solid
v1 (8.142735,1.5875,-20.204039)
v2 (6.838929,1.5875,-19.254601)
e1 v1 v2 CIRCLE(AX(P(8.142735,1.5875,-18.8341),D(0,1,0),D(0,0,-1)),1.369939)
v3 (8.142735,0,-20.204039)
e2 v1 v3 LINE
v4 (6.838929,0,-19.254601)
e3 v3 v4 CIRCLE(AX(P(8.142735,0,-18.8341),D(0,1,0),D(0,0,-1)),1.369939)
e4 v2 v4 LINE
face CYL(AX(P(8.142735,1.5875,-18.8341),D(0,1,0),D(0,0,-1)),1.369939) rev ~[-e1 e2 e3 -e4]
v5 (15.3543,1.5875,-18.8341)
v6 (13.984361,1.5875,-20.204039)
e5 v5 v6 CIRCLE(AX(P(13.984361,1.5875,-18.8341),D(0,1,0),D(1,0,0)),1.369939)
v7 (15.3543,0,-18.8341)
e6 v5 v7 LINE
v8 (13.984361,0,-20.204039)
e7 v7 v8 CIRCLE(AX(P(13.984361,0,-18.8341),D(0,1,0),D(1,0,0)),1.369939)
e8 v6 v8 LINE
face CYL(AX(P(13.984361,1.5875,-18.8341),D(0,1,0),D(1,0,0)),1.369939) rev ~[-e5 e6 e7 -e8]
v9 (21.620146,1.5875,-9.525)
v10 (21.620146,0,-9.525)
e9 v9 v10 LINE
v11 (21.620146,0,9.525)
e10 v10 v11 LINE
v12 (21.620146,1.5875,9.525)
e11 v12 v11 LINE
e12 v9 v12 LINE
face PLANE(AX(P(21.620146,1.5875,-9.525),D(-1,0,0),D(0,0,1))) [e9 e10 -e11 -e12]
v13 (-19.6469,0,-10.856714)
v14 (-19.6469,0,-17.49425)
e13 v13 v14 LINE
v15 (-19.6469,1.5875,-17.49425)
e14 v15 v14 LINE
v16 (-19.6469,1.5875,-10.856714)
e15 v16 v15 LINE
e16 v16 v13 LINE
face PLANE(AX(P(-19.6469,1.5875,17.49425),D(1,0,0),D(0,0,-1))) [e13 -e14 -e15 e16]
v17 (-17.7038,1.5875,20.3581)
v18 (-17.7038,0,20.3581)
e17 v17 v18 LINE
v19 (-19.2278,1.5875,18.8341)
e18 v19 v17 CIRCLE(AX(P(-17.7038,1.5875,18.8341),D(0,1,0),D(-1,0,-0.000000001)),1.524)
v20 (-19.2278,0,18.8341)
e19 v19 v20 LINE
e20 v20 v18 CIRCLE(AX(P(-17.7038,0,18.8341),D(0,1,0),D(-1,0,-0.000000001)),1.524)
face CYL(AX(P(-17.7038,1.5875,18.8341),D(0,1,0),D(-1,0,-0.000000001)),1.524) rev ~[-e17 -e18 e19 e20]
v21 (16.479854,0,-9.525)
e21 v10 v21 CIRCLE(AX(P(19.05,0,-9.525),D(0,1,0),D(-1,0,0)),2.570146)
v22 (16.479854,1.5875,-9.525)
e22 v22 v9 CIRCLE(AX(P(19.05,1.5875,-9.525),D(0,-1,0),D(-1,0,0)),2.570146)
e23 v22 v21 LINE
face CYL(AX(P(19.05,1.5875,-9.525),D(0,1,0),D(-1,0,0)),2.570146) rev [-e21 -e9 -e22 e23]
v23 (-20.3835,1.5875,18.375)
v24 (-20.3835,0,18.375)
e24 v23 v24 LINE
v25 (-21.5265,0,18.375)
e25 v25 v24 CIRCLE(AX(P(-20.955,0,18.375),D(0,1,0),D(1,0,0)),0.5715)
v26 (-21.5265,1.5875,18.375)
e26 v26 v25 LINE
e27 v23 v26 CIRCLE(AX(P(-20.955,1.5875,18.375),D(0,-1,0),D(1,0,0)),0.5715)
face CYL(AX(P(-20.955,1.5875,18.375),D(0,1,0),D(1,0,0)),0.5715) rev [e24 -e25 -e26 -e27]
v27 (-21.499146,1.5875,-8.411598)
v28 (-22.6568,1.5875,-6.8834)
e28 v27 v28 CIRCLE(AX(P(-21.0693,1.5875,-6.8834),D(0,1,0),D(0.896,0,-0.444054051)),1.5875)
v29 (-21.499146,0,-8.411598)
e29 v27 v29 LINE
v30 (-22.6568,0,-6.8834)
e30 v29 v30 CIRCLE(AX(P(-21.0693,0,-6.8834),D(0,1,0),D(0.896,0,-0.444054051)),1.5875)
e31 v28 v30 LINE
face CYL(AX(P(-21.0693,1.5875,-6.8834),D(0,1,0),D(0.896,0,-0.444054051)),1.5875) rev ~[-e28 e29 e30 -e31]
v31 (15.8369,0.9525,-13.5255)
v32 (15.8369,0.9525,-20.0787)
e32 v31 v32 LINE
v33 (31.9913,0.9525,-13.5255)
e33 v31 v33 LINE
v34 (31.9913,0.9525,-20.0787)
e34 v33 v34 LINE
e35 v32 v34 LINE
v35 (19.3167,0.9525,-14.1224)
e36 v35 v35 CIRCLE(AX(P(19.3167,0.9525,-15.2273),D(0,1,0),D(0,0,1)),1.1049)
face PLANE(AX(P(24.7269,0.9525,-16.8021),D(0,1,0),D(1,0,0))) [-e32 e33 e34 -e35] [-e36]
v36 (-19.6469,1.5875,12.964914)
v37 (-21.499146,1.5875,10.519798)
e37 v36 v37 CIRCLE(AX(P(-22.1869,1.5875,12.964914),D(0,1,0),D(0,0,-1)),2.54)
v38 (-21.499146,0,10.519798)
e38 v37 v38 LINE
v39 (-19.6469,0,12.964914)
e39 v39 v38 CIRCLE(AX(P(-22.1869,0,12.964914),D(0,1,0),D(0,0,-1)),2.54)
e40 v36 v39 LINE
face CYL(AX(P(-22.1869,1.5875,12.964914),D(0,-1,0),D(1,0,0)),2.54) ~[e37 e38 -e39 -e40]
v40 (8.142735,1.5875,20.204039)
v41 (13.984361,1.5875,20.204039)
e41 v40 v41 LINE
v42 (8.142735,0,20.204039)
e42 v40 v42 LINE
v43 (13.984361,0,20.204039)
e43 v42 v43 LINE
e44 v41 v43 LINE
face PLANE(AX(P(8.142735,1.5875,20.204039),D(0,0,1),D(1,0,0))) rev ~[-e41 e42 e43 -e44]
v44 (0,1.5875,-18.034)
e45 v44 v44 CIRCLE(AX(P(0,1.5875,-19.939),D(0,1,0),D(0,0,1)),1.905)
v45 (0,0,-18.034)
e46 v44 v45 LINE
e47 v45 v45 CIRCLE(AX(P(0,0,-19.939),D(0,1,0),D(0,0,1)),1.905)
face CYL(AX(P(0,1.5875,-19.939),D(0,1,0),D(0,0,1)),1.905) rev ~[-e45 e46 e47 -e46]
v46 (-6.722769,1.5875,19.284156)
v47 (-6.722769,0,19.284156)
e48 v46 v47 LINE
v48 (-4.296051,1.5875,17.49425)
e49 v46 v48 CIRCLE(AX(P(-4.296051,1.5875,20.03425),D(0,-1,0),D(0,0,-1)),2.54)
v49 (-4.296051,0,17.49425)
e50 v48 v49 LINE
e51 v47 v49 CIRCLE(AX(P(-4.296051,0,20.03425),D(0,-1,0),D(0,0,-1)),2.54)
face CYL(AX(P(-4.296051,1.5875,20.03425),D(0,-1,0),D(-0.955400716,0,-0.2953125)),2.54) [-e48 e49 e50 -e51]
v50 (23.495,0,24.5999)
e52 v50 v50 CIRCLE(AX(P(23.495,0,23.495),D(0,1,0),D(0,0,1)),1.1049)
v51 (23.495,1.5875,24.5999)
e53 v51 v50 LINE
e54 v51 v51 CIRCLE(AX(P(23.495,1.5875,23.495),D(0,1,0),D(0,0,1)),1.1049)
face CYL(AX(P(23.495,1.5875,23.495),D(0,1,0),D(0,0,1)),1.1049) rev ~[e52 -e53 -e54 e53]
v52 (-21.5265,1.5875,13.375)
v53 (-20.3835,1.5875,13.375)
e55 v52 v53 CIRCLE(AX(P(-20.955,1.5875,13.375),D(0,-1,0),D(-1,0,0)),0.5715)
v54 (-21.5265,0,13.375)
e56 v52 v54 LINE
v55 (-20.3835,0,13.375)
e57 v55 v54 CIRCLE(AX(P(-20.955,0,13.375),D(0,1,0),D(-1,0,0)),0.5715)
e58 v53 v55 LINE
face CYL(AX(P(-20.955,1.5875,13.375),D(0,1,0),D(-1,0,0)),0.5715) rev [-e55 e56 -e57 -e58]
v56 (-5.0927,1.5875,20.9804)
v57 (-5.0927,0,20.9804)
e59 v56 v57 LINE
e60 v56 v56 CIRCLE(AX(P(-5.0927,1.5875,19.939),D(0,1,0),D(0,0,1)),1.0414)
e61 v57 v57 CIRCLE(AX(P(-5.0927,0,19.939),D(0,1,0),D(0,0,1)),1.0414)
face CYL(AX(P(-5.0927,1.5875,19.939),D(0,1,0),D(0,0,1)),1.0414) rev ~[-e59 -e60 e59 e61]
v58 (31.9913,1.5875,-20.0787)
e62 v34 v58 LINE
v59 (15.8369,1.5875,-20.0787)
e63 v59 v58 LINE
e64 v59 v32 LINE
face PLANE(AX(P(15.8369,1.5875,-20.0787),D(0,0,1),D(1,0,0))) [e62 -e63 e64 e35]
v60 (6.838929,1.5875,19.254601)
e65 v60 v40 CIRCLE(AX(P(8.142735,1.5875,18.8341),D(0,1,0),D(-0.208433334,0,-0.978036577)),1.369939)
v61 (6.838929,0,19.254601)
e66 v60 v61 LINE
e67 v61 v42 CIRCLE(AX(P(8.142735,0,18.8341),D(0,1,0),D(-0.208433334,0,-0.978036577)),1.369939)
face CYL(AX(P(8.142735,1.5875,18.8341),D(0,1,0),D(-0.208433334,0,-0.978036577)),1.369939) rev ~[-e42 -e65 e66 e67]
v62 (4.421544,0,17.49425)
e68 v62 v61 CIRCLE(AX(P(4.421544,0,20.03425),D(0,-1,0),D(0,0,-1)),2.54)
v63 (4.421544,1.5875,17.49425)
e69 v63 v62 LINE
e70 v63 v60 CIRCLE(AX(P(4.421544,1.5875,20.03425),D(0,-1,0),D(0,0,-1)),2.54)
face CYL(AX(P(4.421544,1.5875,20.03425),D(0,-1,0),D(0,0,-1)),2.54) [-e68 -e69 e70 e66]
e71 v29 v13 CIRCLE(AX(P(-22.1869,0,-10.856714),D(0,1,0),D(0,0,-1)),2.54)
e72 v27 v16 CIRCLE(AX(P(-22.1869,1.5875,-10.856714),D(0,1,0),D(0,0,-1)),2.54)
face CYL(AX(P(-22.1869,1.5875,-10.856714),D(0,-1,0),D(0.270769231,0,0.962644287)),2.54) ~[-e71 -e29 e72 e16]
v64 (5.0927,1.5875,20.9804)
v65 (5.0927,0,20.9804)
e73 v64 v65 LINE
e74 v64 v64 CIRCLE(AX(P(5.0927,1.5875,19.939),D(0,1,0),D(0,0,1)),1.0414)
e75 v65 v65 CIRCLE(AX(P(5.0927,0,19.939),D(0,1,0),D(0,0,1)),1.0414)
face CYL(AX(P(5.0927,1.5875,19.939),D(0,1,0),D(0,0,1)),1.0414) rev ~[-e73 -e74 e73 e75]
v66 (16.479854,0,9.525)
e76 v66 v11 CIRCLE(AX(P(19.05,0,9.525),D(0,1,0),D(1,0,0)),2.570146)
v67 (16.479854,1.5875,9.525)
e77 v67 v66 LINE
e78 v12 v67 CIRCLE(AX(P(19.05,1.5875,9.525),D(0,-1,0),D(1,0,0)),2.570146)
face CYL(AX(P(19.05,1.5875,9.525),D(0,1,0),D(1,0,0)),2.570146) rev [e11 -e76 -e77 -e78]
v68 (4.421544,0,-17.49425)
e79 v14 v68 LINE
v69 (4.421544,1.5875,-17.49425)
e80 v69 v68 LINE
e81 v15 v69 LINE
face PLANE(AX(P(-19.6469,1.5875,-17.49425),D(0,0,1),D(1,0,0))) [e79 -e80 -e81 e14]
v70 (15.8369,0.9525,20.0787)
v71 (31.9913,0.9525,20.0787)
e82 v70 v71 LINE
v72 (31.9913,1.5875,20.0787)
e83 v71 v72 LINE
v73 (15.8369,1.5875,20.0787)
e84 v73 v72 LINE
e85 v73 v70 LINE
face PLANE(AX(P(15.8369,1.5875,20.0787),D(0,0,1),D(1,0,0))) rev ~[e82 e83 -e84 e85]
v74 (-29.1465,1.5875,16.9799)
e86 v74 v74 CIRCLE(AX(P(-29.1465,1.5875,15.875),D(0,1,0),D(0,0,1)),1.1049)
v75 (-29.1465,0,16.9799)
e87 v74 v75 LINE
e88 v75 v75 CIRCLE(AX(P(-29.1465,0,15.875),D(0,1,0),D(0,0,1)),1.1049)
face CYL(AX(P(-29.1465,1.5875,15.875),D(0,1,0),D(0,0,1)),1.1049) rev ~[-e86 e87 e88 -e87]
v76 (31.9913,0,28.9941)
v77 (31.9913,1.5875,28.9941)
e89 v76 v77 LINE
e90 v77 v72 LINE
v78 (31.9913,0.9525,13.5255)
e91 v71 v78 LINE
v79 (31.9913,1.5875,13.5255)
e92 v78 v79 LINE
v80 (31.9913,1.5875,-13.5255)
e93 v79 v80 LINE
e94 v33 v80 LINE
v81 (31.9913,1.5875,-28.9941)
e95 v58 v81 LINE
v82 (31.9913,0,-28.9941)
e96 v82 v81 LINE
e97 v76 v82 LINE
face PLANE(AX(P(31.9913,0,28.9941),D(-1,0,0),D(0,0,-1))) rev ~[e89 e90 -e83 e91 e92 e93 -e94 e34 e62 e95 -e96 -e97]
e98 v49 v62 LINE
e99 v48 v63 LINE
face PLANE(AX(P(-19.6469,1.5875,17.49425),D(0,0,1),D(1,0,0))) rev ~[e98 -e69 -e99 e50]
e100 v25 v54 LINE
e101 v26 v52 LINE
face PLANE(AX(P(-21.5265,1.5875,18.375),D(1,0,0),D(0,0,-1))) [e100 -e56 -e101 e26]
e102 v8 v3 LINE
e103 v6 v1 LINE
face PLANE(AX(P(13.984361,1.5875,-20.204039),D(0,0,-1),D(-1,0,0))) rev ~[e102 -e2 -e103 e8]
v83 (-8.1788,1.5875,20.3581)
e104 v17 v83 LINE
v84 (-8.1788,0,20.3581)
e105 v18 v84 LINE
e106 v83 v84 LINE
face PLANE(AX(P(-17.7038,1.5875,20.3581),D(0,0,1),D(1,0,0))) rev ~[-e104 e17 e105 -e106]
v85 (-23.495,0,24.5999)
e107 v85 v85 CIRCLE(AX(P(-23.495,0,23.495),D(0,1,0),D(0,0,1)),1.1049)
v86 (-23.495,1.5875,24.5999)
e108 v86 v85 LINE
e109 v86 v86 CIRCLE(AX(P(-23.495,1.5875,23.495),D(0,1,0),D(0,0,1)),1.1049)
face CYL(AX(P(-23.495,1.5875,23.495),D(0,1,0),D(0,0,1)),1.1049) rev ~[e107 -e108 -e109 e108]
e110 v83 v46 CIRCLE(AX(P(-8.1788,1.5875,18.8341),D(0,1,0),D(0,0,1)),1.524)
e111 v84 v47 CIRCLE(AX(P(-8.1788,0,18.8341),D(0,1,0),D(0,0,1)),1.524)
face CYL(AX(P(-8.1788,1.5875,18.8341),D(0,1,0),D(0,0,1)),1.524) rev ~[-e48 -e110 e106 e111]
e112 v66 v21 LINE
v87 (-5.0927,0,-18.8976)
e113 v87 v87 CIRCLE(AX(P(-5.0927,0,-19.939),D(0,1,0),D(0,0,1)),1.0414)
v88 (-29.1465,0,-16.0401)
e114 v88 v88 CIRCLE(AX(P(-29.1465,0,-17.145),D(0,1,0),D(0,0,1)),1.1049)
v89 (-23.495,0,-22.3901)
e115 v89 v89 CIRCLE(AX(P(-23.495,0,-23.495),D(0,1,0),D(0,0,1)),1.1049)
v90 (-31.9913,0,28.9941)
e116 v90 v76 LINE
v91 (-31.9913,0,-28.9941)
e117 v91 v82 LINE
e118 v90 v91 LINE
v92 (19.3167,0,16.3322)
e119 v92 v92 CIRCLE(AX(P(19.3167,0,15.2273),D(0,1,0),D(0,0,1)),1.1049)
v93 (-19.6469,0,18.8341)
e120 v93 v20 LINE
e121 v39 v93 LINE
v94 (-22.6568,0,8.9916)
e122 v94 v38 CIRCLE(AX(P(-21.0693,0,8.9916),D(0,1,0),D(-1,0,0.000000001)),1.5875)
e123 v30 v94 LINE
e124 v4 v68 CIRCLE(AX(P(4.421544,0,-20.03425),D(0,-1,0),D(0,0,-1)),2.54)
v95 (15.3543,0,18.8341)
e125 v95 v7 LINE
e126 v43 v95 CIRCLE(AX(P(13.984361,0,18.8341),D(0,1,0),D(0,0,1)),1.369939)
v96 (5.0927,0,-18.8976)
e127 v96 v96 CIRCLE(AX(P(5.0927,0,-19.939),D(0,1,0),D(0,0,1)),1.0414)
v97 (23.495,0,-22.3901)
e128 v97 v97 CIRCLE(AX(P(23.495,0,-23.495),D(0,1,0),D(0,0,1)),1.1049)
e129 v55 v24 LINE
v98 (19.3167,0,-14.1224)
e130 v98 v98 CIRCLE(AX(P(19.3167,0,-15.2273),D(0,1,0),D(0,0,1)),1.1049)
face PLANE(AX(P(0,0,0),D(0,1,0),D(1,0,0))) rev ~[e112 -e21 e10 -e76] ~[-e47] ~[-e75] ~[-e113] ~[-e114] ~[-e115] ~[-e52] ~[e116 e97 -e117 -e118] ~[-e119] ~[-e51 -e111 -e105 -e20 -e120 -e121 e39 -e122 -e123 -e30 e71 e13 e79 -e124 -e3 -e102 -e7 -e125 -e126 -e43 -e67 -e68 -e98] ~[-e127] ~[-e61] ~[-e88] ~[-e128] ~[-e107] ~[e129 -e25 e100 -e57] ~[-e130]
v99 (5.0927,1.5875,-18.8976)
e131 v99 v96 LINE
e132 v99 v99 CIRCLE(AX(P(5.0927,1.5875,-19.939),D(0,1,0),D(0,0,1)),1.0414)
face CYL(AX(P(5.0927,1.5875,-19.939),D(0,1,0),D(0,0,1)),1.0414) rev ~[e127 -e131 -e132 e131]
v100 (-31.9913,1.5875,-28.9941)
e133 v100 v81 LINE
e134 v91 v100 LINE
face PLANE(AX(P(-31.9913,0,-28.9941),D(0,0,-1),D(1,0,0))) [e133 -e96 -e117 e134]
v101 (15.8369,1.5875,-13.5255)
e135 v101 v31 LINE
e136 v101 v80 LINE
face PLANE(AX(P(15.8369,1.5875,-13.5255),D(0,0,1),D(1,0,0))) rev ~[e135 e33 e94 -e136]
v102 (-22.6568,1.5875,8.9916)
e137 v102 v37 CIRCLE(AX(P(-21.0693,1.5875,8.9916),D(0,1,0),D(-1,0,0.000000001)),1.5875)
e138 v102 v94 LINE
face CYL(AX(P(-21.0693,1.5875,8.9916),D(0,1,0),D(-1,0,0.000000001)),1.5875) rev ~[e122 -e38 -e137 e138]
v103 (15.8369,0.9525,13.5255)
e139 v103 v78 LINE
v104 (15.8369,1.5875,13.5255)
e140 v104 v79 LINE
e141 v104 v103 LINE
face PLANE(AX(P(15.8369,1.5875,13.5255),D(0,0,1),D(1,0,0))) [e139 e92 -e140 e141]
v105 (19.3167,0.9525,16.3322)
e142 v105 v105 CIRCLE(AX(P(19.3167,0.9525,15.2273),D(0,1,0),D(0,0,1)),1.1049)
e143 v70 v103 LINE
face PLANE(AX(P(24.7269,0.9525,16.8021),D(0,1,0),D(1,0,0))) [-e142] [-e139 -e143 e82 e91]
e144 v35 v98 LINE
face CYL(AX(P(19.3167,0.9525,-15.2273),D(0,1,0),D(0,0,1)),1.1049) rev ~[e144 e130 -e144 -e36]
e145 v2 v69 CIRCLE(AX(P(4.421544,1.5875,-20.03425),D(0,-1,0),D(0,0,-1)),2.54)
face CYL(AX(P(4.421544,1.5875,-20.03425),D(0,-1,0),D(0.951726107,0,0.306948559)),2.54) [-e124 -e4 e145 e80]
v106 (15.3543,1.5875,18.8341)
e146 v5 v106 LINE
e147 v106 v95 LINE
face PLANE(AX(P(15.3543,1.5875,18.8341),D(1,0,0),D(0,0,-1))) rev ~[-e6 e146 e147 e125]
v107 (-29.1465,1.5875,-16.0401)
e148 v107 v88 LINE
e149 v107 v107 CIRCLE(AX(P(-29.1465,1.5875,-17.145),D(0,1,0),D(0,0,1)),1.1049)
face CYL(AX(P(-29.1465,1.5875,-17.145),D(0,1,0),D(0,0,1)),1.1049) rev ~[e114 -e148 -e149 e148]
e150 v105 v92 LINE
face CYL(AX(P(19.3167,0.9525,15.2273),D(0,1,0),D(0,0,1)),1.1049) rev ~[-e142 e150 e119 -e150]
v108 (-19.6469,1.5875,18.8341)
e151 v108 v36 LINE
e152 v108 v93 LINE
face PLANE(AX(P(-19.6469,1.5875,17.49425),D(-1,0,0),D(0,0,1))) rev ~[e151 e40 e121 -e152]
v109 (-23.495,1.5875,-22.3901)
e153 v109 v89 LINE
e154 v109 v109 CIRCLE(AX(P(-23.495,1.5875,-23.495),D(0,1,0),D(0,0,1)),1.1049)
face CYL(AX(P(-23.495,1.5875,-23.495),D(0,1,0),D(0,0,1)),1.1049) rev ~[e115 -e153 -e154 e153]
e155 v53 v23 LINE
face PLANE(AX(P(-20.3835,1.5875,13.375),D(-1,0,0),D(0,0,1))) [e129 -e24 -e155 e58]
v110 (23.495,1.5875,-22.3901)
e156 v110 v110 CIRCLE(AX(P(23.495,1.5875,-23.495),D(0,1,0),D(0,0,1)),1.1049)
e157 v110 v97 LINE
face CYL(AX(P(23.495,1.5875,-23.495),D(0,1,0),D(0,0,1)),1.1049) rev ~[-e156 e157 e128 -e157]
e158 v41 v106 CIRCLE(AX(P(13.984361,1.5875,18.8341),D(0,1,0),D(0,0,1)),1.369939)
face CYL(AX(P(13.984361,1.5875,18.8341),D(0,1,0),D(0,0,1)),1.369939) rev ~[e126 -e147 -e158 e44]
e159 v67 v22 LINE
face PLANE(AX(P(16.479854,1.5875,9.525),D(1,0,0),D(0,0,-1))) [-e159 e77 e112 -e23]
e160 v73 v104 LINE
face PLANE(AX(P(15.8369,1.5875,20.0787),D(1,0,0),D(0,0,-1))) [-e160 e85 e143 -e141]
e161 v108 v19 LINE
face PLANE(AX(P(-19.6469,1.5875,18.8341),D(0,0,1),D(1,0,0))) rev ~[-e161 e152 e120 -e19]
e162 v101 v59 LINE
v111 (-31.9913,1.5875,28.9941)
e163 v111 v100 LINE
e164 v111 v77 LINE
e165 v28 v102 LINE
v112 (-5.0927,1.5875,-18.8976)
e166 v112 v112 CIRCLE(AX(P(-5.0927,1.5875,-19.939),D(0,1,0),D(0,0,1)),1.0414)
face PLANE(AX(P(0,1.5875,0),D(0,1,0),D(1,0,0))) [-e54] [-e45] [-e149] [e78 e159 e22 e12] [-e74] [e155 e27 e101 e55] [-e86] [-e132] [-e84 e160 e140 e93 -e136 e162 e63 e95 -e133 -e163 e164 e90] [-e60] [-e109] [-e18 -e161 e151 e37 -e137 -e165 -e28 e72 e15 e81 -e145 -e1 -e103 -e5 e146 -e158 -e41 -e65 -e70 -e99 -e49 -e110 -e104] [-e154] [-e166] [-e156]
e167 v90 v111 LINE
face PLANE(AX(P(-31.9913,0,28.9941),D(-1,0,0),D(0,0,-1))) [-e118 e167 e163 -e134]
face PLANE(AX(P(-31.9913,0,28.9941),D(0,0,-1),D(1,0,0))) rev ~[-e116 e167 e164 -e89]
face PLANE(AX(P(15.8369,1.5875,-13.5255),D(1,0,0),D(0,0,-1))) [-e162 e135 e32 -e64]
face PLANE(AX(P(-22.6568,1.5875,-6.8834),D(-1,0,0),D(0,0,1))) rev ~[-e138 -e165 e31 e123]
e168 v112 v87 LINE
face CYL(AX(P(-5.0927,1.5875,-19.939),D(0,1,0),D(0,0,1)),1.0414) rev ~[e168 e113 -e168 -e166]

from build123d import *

# Parameters (mm, degrees)
SKETCH1_W           = 63.9826
SKETCH1_H           = 57.9882
BOSS_EXTRUDE1_DEPTH = 1.5875
SKETCH2_R           = 0.513965226
SKETCH2_R_2         = 1.1049
SKETCH2_R_3         = 1.0414
CUT_EXTRUDE1_DEPTH  = 7.62
SKETCH3_R           = 1.905
CUT_EXTRUDE2_DEPTH  = 44.204412584
SKETCH4_W           = 17.78
SKETCH4_H           = 6.5532
CUT_EXTRUDE3_DEPTH  = 0.635
SKETCH5_W           = 35.0012
SKETCH5_H           = 34.9885
CUT_EXTRUDE4_DEPTH  = 44.204412584
CUT_EXTRUDE5_DEPTH  = 44.204412584
SKETCH7_R           = 1.1049
CUT_EXTRUDE6_DEPTH  = 44.204412584
FILLET1_R           = 2.54
FILLET2_R           = 2.54
FILLET5_R           = 2.54
FILLET6_R           = 2.54
SKETCH8_R           = 1.1049
CUT_EXTRUDE7_DEPTH  = 2.54


with BuildPart() as part:
    # Sketch1 → Boss-Extrude1 (new body)
    with BuildSketch(Plane(origin=(0, 0, 0), x_dir=(1, 0, 0), z_dir=(0, 1, 0))):
        Rectangle(SKETCH1_W, SKETCH1_H)
    extrude(amount=BOSS_EXTRUDE1_DEPTH)

    # Sketch2 → Cut-Extrude1 (cut)
    with BuildSketch(Plane(origin=(0, 1.5875, 0), x_dir=(1, 0, 0), z_dir=(0, 1, 0))):
        with Locations(Location((0, 0, 0), (0, 0, 270))):
            Circle(SKETCH2_R)
        with Locations(Location((-23.495, -23.495, 0), (0, 0, 270))):
            Circle(SKETCH2_R_2)
        with Locations(Location((23.495, -23.495, 0), (0, 0, 270))):
            Circle(SKETCH2_R_2)
        with Locations(Location((-23.495, 23.495, 0), (0, 0, 270))):
            Circle(SKETCH2_R_2)
        with Locations(Location((23.495, 23.495, 0), (0, 0, 270))):
            Circle(SKETCH2_R_2)
        with Locations(Location((-5.0927, 19.939, 0), (0, 0, 270))):
            Circle(SKETCH2_R_3)
        with Locations(Location((5.0927, 19.939, 0), (0, 0, 270))):
            Circle(SKETCH2_R_3)
        with Locations(Location((5.0927, -19.939, 0), (0, 0, 270))):
            Circle(SKETCH2_R_3)
        with Locations(Location((-5.0927, -19.939, 0), (0, 0, 270))):
            Circle(SKETCH2_R_3)
    extrude(amount=-CUT_EXTRUDE1_DEPTH, mode=Mode.SUBTRACT)

    # Sketch3 → Cut-Extrude2 (cut, through all)
    with BuildSketch(Plane(origin=(0, 1.5875, 0), x_dir=(1, 0, 0), z_dir=(0, 1, 0))):
        with Locations(Location((0, 19.939, 0), (0, 0, 270))):
            Circle(SKETCH3_R)
        with BuildLine():
            Line((16.47985425, -9.525), (16.47985425, 9.525))
            ThreePointArc((16.47985425, 9.525), (19.05, 12.09514575), (21.62014575, 9.525))
            Line((21.62014575, 9.525), (21.62014575, -9.525))
            ThreePointArc((21.62014575, -9.525), (19.05, -12.09514575), (16.47985425, -9.525))
        make_face()
        with BuildLine():
            Line((-20.3835, -13.375), (-20.3835, -18.375))
            ThreePointArc((-20.3835, -18.375), (-20.955, -18.9465), (-21.5265, -18.375))
            Line((-21.5265, -18.375), (-21.5265, -13.375))
            ThreePointArc((-21.5265, -13.375), (-20.955, -12.8035), (-20.3835, -13.375))
        make_face()
    extrude(amount=-CUT_EXTRUDE2_DEPTH, mode=Mode.SUBTRACT)

    # Sketch4 → Cut-Extrude3 (cut)
    with BuildSketch(Plane(origin=(0, 1.5875, 0), x_dir=(1, 0, 0), z_dir=(0, 1, 0))):
        with Locations((24.7269, -16.8021)):
            Rectangle(SKETCH4_W, SKETCH4_H)
        with Locations((24.7269, 16.8021)):
            Rectangle(SKETCH4_W, SKETCH4_H)
    extrude(amount=-CUT_EXTRUDE3_DEPTH, mode=Mode.SUBTRACT)

    # Sketch5 → Cut-Extrude4 (cut, through all)
    with BuildSketch(Plane(origin=(0, 1.5875, 0), x_dir=(1, 0, 0), z_dir=(0, 1, 0))):
        with Locations((-2.1463, 0)):
            Rectangle(SKETCH5_W, SKETCH5_H)
    extrude(amount=-CUT_EXTRUDE4_DEPTH, mode=Mode.SUBTRACT)

    # Sketch6 → Cut-Extrude5 (cut, through all)
    with BuildSketch(Plane(origin=(0, 1.5875, 0), x_dir=(1, 0, 0), z_dir=(0, 1, 0))):
        with BuildLine():
            Line((-7.452592056, -17.49425), (-18.430007944, -17.49425))
            ThreePointArc((-18.430007944, -17.49425), (-19.013249676, -18.054409326), (-19.2278, -18.8341))
            ThreePointArc((-19.2278, -18.8341), (-18.781430735, -19.911730735), (-17.7038, -20.3581))
            Line((-17.7038, -20.3581), (-8.1788, -20.3581))
            ThreePointArc((-8.1788, -20.3581), (-6.701554692, -19.208696183), (-7.452592056, -17.49425))
        make_face()
        with BuildLine():
            Line((-18.430007944, -17.49425), (-19.6469, -17.49425))
            Line((-19.6469, -17.49425), (-19.6469, -18.8341))
            Line((-19.6469, -18.8341), (-19.2278, -18.8341))
            ThreePointArc((-19.2278, -18.8341), (-19.013249676, -18.054409326), (-18.430007944, -17.49425))
        make_face()
        with BuildLine():
            Line((-22.6568, 6.8834), (-22.6568, -8.9916))
            ThreePointArc((-22.6568, -8.9916), (-21.431305697, -10.537274003), (-19.6469, -9.696535806))
            Line((-19.6469, -9.696535806), (-19.6469, 7.588335806))
            ThreePointArc((-19.6469, 7.588335806), (-21.431305697, 8.429074003), (-22.6568, 6.8834))
        make_face()
        with BuildLine():
            Line((14.269902317, -17.49425), (7.857194183, -17.49425))
            ThreePointArc((7.857194183, -17.49425), (6.780339401, -18.977660877), (8.142735041, -20.20403854))
            Line((8.142735041, -20.20403854), (13.98436146, -20.20403854))
            ThreePointArc((13.98436146, -20.20403854), (14.953054291, -19.802792832), (15.3543, -18.8341))
            ThreePointArc((15.3543, -18.8341), (15.049233525, -17.972253674), (14.269902317, -17.49425))
        make_face()
        with BuildLine():
            Line((14.904303176, -17.49425), (14.269902317, -17.49425))
            ThreePointArc((14.269902317, -17.49425), (15.049233525, -17.972253674), (15.3543, -18.8341))
            Line((15.3543, -18.8341), (15.3543, -17.49425))
            Line((15.3543, -17.49425), (14.904303176, -17.49425))
        make_face()
        with BuildLine():
            ThreePointArc((8.142735041, 20.20403854), (6.780339401, 18.977660877), (7.857194183, 17.49425))
            Line((7.857194183, 17.49425), (14.269902317, 17.49425))
            ThreePointArc((14.269902317, 17.49425), (15.049233525, 17.972253674), (15.3543, 18.8341))
            ThreePointArc((15.3543, 18.8341), (14.953054291, 19.802792832), (13.98436146, 20.20403854))
            Line((13.98436146, 20.20403854), (8.142735041, 20.20403854))
        make_face()
        with BuildLine():
            ThreePointArc((15.3543, 18.8341), (15.049233525, 17.972253674), (14.269902317, 17.49425))
            Line((14.269902317, 17.49425), (14.904303176, 17.49425))
            Line((14.904303176, 17.49425), (15.3543, 17.49425))
            Line((15.3543, 17.49425), (15.3543, 18.8341))
        make_face()
    extrude(amount=-CUT_EXTRUDE5_DEPTH, mode=Mode.SUBTRACT)

    # Sketch7 → Cut-Extrude6 (cut, through all)
    with BuildSketch(Plane(origin=(0, 1.5875, 0), x_dir=(1, 0, 0), z_dir=(0, 1, 0))):
        with Locations(Location((-29.1465, -15.875, 0), (0, 0, 270))):
            Circle(SKETCH7_R)
        with Locations(Location((-29.1465, 17.145, 0), (0, 0, 270))):
            Circle(SKETCH7_R)
    extrude(amount=-CUT_EXTRUDE6_DEPTH, mode=Mode.SUBTRACT)

    # Fillet1
    fillet1_edges = [part.edges().sort_by_distance(p)[0] for p in [
        (-19.6469, 0.79375, -7.588335806),
        (-19.6469, 0.79375, 9.696535806),
    ]]
    fillet(fillet1_edges, radius=FILLET1_R)

    # Fillet2
    fillet2_edges = [part.edges().sort_by_distance(p)[0] for p in [
        (-7.452592056, 0.79375, 17.49425),
    ]]
    fillet(fillet2_edges, radius=FILLET2_R)

    # Fillet5
    fillet5_edges = [part.edges().sort_by_distance(p)[0] for p in [
        (7.857194183, 0.79375, 17.49425),
    ]]
    fillet(fillet5_edges, radius=FILLET5_R)

    # Fillet6
    fillet6_edges = [part.edges().sort_by_distance(p)[0] for p in [
        (7.857194183, 0.79375, -17.49425),
    ]]
    fillet(fillet6_edges, radius=FILLET6_R)

    # Sketch8 → Cut-Extrude7 (cut)
    with BuildSketch(Plane(origin=(0, 0.9525, 0), x_dir=(1, 0, 0), z_dir=(0, 1, 0))):
        with Locations(Location((19.3167, 15.2273, 0), (0, 0, 270))):
            Circle(SKETCH8_R)
        with Locations(Location((19.3167, -15.2273, 0), (0, 0, 270))):
            Circle(SKETCH8_R)
    extrude(amount=-CUT_EXTRUDE7_DEPTH, mode=Mode.SUBTRACT)


solid = part.part
